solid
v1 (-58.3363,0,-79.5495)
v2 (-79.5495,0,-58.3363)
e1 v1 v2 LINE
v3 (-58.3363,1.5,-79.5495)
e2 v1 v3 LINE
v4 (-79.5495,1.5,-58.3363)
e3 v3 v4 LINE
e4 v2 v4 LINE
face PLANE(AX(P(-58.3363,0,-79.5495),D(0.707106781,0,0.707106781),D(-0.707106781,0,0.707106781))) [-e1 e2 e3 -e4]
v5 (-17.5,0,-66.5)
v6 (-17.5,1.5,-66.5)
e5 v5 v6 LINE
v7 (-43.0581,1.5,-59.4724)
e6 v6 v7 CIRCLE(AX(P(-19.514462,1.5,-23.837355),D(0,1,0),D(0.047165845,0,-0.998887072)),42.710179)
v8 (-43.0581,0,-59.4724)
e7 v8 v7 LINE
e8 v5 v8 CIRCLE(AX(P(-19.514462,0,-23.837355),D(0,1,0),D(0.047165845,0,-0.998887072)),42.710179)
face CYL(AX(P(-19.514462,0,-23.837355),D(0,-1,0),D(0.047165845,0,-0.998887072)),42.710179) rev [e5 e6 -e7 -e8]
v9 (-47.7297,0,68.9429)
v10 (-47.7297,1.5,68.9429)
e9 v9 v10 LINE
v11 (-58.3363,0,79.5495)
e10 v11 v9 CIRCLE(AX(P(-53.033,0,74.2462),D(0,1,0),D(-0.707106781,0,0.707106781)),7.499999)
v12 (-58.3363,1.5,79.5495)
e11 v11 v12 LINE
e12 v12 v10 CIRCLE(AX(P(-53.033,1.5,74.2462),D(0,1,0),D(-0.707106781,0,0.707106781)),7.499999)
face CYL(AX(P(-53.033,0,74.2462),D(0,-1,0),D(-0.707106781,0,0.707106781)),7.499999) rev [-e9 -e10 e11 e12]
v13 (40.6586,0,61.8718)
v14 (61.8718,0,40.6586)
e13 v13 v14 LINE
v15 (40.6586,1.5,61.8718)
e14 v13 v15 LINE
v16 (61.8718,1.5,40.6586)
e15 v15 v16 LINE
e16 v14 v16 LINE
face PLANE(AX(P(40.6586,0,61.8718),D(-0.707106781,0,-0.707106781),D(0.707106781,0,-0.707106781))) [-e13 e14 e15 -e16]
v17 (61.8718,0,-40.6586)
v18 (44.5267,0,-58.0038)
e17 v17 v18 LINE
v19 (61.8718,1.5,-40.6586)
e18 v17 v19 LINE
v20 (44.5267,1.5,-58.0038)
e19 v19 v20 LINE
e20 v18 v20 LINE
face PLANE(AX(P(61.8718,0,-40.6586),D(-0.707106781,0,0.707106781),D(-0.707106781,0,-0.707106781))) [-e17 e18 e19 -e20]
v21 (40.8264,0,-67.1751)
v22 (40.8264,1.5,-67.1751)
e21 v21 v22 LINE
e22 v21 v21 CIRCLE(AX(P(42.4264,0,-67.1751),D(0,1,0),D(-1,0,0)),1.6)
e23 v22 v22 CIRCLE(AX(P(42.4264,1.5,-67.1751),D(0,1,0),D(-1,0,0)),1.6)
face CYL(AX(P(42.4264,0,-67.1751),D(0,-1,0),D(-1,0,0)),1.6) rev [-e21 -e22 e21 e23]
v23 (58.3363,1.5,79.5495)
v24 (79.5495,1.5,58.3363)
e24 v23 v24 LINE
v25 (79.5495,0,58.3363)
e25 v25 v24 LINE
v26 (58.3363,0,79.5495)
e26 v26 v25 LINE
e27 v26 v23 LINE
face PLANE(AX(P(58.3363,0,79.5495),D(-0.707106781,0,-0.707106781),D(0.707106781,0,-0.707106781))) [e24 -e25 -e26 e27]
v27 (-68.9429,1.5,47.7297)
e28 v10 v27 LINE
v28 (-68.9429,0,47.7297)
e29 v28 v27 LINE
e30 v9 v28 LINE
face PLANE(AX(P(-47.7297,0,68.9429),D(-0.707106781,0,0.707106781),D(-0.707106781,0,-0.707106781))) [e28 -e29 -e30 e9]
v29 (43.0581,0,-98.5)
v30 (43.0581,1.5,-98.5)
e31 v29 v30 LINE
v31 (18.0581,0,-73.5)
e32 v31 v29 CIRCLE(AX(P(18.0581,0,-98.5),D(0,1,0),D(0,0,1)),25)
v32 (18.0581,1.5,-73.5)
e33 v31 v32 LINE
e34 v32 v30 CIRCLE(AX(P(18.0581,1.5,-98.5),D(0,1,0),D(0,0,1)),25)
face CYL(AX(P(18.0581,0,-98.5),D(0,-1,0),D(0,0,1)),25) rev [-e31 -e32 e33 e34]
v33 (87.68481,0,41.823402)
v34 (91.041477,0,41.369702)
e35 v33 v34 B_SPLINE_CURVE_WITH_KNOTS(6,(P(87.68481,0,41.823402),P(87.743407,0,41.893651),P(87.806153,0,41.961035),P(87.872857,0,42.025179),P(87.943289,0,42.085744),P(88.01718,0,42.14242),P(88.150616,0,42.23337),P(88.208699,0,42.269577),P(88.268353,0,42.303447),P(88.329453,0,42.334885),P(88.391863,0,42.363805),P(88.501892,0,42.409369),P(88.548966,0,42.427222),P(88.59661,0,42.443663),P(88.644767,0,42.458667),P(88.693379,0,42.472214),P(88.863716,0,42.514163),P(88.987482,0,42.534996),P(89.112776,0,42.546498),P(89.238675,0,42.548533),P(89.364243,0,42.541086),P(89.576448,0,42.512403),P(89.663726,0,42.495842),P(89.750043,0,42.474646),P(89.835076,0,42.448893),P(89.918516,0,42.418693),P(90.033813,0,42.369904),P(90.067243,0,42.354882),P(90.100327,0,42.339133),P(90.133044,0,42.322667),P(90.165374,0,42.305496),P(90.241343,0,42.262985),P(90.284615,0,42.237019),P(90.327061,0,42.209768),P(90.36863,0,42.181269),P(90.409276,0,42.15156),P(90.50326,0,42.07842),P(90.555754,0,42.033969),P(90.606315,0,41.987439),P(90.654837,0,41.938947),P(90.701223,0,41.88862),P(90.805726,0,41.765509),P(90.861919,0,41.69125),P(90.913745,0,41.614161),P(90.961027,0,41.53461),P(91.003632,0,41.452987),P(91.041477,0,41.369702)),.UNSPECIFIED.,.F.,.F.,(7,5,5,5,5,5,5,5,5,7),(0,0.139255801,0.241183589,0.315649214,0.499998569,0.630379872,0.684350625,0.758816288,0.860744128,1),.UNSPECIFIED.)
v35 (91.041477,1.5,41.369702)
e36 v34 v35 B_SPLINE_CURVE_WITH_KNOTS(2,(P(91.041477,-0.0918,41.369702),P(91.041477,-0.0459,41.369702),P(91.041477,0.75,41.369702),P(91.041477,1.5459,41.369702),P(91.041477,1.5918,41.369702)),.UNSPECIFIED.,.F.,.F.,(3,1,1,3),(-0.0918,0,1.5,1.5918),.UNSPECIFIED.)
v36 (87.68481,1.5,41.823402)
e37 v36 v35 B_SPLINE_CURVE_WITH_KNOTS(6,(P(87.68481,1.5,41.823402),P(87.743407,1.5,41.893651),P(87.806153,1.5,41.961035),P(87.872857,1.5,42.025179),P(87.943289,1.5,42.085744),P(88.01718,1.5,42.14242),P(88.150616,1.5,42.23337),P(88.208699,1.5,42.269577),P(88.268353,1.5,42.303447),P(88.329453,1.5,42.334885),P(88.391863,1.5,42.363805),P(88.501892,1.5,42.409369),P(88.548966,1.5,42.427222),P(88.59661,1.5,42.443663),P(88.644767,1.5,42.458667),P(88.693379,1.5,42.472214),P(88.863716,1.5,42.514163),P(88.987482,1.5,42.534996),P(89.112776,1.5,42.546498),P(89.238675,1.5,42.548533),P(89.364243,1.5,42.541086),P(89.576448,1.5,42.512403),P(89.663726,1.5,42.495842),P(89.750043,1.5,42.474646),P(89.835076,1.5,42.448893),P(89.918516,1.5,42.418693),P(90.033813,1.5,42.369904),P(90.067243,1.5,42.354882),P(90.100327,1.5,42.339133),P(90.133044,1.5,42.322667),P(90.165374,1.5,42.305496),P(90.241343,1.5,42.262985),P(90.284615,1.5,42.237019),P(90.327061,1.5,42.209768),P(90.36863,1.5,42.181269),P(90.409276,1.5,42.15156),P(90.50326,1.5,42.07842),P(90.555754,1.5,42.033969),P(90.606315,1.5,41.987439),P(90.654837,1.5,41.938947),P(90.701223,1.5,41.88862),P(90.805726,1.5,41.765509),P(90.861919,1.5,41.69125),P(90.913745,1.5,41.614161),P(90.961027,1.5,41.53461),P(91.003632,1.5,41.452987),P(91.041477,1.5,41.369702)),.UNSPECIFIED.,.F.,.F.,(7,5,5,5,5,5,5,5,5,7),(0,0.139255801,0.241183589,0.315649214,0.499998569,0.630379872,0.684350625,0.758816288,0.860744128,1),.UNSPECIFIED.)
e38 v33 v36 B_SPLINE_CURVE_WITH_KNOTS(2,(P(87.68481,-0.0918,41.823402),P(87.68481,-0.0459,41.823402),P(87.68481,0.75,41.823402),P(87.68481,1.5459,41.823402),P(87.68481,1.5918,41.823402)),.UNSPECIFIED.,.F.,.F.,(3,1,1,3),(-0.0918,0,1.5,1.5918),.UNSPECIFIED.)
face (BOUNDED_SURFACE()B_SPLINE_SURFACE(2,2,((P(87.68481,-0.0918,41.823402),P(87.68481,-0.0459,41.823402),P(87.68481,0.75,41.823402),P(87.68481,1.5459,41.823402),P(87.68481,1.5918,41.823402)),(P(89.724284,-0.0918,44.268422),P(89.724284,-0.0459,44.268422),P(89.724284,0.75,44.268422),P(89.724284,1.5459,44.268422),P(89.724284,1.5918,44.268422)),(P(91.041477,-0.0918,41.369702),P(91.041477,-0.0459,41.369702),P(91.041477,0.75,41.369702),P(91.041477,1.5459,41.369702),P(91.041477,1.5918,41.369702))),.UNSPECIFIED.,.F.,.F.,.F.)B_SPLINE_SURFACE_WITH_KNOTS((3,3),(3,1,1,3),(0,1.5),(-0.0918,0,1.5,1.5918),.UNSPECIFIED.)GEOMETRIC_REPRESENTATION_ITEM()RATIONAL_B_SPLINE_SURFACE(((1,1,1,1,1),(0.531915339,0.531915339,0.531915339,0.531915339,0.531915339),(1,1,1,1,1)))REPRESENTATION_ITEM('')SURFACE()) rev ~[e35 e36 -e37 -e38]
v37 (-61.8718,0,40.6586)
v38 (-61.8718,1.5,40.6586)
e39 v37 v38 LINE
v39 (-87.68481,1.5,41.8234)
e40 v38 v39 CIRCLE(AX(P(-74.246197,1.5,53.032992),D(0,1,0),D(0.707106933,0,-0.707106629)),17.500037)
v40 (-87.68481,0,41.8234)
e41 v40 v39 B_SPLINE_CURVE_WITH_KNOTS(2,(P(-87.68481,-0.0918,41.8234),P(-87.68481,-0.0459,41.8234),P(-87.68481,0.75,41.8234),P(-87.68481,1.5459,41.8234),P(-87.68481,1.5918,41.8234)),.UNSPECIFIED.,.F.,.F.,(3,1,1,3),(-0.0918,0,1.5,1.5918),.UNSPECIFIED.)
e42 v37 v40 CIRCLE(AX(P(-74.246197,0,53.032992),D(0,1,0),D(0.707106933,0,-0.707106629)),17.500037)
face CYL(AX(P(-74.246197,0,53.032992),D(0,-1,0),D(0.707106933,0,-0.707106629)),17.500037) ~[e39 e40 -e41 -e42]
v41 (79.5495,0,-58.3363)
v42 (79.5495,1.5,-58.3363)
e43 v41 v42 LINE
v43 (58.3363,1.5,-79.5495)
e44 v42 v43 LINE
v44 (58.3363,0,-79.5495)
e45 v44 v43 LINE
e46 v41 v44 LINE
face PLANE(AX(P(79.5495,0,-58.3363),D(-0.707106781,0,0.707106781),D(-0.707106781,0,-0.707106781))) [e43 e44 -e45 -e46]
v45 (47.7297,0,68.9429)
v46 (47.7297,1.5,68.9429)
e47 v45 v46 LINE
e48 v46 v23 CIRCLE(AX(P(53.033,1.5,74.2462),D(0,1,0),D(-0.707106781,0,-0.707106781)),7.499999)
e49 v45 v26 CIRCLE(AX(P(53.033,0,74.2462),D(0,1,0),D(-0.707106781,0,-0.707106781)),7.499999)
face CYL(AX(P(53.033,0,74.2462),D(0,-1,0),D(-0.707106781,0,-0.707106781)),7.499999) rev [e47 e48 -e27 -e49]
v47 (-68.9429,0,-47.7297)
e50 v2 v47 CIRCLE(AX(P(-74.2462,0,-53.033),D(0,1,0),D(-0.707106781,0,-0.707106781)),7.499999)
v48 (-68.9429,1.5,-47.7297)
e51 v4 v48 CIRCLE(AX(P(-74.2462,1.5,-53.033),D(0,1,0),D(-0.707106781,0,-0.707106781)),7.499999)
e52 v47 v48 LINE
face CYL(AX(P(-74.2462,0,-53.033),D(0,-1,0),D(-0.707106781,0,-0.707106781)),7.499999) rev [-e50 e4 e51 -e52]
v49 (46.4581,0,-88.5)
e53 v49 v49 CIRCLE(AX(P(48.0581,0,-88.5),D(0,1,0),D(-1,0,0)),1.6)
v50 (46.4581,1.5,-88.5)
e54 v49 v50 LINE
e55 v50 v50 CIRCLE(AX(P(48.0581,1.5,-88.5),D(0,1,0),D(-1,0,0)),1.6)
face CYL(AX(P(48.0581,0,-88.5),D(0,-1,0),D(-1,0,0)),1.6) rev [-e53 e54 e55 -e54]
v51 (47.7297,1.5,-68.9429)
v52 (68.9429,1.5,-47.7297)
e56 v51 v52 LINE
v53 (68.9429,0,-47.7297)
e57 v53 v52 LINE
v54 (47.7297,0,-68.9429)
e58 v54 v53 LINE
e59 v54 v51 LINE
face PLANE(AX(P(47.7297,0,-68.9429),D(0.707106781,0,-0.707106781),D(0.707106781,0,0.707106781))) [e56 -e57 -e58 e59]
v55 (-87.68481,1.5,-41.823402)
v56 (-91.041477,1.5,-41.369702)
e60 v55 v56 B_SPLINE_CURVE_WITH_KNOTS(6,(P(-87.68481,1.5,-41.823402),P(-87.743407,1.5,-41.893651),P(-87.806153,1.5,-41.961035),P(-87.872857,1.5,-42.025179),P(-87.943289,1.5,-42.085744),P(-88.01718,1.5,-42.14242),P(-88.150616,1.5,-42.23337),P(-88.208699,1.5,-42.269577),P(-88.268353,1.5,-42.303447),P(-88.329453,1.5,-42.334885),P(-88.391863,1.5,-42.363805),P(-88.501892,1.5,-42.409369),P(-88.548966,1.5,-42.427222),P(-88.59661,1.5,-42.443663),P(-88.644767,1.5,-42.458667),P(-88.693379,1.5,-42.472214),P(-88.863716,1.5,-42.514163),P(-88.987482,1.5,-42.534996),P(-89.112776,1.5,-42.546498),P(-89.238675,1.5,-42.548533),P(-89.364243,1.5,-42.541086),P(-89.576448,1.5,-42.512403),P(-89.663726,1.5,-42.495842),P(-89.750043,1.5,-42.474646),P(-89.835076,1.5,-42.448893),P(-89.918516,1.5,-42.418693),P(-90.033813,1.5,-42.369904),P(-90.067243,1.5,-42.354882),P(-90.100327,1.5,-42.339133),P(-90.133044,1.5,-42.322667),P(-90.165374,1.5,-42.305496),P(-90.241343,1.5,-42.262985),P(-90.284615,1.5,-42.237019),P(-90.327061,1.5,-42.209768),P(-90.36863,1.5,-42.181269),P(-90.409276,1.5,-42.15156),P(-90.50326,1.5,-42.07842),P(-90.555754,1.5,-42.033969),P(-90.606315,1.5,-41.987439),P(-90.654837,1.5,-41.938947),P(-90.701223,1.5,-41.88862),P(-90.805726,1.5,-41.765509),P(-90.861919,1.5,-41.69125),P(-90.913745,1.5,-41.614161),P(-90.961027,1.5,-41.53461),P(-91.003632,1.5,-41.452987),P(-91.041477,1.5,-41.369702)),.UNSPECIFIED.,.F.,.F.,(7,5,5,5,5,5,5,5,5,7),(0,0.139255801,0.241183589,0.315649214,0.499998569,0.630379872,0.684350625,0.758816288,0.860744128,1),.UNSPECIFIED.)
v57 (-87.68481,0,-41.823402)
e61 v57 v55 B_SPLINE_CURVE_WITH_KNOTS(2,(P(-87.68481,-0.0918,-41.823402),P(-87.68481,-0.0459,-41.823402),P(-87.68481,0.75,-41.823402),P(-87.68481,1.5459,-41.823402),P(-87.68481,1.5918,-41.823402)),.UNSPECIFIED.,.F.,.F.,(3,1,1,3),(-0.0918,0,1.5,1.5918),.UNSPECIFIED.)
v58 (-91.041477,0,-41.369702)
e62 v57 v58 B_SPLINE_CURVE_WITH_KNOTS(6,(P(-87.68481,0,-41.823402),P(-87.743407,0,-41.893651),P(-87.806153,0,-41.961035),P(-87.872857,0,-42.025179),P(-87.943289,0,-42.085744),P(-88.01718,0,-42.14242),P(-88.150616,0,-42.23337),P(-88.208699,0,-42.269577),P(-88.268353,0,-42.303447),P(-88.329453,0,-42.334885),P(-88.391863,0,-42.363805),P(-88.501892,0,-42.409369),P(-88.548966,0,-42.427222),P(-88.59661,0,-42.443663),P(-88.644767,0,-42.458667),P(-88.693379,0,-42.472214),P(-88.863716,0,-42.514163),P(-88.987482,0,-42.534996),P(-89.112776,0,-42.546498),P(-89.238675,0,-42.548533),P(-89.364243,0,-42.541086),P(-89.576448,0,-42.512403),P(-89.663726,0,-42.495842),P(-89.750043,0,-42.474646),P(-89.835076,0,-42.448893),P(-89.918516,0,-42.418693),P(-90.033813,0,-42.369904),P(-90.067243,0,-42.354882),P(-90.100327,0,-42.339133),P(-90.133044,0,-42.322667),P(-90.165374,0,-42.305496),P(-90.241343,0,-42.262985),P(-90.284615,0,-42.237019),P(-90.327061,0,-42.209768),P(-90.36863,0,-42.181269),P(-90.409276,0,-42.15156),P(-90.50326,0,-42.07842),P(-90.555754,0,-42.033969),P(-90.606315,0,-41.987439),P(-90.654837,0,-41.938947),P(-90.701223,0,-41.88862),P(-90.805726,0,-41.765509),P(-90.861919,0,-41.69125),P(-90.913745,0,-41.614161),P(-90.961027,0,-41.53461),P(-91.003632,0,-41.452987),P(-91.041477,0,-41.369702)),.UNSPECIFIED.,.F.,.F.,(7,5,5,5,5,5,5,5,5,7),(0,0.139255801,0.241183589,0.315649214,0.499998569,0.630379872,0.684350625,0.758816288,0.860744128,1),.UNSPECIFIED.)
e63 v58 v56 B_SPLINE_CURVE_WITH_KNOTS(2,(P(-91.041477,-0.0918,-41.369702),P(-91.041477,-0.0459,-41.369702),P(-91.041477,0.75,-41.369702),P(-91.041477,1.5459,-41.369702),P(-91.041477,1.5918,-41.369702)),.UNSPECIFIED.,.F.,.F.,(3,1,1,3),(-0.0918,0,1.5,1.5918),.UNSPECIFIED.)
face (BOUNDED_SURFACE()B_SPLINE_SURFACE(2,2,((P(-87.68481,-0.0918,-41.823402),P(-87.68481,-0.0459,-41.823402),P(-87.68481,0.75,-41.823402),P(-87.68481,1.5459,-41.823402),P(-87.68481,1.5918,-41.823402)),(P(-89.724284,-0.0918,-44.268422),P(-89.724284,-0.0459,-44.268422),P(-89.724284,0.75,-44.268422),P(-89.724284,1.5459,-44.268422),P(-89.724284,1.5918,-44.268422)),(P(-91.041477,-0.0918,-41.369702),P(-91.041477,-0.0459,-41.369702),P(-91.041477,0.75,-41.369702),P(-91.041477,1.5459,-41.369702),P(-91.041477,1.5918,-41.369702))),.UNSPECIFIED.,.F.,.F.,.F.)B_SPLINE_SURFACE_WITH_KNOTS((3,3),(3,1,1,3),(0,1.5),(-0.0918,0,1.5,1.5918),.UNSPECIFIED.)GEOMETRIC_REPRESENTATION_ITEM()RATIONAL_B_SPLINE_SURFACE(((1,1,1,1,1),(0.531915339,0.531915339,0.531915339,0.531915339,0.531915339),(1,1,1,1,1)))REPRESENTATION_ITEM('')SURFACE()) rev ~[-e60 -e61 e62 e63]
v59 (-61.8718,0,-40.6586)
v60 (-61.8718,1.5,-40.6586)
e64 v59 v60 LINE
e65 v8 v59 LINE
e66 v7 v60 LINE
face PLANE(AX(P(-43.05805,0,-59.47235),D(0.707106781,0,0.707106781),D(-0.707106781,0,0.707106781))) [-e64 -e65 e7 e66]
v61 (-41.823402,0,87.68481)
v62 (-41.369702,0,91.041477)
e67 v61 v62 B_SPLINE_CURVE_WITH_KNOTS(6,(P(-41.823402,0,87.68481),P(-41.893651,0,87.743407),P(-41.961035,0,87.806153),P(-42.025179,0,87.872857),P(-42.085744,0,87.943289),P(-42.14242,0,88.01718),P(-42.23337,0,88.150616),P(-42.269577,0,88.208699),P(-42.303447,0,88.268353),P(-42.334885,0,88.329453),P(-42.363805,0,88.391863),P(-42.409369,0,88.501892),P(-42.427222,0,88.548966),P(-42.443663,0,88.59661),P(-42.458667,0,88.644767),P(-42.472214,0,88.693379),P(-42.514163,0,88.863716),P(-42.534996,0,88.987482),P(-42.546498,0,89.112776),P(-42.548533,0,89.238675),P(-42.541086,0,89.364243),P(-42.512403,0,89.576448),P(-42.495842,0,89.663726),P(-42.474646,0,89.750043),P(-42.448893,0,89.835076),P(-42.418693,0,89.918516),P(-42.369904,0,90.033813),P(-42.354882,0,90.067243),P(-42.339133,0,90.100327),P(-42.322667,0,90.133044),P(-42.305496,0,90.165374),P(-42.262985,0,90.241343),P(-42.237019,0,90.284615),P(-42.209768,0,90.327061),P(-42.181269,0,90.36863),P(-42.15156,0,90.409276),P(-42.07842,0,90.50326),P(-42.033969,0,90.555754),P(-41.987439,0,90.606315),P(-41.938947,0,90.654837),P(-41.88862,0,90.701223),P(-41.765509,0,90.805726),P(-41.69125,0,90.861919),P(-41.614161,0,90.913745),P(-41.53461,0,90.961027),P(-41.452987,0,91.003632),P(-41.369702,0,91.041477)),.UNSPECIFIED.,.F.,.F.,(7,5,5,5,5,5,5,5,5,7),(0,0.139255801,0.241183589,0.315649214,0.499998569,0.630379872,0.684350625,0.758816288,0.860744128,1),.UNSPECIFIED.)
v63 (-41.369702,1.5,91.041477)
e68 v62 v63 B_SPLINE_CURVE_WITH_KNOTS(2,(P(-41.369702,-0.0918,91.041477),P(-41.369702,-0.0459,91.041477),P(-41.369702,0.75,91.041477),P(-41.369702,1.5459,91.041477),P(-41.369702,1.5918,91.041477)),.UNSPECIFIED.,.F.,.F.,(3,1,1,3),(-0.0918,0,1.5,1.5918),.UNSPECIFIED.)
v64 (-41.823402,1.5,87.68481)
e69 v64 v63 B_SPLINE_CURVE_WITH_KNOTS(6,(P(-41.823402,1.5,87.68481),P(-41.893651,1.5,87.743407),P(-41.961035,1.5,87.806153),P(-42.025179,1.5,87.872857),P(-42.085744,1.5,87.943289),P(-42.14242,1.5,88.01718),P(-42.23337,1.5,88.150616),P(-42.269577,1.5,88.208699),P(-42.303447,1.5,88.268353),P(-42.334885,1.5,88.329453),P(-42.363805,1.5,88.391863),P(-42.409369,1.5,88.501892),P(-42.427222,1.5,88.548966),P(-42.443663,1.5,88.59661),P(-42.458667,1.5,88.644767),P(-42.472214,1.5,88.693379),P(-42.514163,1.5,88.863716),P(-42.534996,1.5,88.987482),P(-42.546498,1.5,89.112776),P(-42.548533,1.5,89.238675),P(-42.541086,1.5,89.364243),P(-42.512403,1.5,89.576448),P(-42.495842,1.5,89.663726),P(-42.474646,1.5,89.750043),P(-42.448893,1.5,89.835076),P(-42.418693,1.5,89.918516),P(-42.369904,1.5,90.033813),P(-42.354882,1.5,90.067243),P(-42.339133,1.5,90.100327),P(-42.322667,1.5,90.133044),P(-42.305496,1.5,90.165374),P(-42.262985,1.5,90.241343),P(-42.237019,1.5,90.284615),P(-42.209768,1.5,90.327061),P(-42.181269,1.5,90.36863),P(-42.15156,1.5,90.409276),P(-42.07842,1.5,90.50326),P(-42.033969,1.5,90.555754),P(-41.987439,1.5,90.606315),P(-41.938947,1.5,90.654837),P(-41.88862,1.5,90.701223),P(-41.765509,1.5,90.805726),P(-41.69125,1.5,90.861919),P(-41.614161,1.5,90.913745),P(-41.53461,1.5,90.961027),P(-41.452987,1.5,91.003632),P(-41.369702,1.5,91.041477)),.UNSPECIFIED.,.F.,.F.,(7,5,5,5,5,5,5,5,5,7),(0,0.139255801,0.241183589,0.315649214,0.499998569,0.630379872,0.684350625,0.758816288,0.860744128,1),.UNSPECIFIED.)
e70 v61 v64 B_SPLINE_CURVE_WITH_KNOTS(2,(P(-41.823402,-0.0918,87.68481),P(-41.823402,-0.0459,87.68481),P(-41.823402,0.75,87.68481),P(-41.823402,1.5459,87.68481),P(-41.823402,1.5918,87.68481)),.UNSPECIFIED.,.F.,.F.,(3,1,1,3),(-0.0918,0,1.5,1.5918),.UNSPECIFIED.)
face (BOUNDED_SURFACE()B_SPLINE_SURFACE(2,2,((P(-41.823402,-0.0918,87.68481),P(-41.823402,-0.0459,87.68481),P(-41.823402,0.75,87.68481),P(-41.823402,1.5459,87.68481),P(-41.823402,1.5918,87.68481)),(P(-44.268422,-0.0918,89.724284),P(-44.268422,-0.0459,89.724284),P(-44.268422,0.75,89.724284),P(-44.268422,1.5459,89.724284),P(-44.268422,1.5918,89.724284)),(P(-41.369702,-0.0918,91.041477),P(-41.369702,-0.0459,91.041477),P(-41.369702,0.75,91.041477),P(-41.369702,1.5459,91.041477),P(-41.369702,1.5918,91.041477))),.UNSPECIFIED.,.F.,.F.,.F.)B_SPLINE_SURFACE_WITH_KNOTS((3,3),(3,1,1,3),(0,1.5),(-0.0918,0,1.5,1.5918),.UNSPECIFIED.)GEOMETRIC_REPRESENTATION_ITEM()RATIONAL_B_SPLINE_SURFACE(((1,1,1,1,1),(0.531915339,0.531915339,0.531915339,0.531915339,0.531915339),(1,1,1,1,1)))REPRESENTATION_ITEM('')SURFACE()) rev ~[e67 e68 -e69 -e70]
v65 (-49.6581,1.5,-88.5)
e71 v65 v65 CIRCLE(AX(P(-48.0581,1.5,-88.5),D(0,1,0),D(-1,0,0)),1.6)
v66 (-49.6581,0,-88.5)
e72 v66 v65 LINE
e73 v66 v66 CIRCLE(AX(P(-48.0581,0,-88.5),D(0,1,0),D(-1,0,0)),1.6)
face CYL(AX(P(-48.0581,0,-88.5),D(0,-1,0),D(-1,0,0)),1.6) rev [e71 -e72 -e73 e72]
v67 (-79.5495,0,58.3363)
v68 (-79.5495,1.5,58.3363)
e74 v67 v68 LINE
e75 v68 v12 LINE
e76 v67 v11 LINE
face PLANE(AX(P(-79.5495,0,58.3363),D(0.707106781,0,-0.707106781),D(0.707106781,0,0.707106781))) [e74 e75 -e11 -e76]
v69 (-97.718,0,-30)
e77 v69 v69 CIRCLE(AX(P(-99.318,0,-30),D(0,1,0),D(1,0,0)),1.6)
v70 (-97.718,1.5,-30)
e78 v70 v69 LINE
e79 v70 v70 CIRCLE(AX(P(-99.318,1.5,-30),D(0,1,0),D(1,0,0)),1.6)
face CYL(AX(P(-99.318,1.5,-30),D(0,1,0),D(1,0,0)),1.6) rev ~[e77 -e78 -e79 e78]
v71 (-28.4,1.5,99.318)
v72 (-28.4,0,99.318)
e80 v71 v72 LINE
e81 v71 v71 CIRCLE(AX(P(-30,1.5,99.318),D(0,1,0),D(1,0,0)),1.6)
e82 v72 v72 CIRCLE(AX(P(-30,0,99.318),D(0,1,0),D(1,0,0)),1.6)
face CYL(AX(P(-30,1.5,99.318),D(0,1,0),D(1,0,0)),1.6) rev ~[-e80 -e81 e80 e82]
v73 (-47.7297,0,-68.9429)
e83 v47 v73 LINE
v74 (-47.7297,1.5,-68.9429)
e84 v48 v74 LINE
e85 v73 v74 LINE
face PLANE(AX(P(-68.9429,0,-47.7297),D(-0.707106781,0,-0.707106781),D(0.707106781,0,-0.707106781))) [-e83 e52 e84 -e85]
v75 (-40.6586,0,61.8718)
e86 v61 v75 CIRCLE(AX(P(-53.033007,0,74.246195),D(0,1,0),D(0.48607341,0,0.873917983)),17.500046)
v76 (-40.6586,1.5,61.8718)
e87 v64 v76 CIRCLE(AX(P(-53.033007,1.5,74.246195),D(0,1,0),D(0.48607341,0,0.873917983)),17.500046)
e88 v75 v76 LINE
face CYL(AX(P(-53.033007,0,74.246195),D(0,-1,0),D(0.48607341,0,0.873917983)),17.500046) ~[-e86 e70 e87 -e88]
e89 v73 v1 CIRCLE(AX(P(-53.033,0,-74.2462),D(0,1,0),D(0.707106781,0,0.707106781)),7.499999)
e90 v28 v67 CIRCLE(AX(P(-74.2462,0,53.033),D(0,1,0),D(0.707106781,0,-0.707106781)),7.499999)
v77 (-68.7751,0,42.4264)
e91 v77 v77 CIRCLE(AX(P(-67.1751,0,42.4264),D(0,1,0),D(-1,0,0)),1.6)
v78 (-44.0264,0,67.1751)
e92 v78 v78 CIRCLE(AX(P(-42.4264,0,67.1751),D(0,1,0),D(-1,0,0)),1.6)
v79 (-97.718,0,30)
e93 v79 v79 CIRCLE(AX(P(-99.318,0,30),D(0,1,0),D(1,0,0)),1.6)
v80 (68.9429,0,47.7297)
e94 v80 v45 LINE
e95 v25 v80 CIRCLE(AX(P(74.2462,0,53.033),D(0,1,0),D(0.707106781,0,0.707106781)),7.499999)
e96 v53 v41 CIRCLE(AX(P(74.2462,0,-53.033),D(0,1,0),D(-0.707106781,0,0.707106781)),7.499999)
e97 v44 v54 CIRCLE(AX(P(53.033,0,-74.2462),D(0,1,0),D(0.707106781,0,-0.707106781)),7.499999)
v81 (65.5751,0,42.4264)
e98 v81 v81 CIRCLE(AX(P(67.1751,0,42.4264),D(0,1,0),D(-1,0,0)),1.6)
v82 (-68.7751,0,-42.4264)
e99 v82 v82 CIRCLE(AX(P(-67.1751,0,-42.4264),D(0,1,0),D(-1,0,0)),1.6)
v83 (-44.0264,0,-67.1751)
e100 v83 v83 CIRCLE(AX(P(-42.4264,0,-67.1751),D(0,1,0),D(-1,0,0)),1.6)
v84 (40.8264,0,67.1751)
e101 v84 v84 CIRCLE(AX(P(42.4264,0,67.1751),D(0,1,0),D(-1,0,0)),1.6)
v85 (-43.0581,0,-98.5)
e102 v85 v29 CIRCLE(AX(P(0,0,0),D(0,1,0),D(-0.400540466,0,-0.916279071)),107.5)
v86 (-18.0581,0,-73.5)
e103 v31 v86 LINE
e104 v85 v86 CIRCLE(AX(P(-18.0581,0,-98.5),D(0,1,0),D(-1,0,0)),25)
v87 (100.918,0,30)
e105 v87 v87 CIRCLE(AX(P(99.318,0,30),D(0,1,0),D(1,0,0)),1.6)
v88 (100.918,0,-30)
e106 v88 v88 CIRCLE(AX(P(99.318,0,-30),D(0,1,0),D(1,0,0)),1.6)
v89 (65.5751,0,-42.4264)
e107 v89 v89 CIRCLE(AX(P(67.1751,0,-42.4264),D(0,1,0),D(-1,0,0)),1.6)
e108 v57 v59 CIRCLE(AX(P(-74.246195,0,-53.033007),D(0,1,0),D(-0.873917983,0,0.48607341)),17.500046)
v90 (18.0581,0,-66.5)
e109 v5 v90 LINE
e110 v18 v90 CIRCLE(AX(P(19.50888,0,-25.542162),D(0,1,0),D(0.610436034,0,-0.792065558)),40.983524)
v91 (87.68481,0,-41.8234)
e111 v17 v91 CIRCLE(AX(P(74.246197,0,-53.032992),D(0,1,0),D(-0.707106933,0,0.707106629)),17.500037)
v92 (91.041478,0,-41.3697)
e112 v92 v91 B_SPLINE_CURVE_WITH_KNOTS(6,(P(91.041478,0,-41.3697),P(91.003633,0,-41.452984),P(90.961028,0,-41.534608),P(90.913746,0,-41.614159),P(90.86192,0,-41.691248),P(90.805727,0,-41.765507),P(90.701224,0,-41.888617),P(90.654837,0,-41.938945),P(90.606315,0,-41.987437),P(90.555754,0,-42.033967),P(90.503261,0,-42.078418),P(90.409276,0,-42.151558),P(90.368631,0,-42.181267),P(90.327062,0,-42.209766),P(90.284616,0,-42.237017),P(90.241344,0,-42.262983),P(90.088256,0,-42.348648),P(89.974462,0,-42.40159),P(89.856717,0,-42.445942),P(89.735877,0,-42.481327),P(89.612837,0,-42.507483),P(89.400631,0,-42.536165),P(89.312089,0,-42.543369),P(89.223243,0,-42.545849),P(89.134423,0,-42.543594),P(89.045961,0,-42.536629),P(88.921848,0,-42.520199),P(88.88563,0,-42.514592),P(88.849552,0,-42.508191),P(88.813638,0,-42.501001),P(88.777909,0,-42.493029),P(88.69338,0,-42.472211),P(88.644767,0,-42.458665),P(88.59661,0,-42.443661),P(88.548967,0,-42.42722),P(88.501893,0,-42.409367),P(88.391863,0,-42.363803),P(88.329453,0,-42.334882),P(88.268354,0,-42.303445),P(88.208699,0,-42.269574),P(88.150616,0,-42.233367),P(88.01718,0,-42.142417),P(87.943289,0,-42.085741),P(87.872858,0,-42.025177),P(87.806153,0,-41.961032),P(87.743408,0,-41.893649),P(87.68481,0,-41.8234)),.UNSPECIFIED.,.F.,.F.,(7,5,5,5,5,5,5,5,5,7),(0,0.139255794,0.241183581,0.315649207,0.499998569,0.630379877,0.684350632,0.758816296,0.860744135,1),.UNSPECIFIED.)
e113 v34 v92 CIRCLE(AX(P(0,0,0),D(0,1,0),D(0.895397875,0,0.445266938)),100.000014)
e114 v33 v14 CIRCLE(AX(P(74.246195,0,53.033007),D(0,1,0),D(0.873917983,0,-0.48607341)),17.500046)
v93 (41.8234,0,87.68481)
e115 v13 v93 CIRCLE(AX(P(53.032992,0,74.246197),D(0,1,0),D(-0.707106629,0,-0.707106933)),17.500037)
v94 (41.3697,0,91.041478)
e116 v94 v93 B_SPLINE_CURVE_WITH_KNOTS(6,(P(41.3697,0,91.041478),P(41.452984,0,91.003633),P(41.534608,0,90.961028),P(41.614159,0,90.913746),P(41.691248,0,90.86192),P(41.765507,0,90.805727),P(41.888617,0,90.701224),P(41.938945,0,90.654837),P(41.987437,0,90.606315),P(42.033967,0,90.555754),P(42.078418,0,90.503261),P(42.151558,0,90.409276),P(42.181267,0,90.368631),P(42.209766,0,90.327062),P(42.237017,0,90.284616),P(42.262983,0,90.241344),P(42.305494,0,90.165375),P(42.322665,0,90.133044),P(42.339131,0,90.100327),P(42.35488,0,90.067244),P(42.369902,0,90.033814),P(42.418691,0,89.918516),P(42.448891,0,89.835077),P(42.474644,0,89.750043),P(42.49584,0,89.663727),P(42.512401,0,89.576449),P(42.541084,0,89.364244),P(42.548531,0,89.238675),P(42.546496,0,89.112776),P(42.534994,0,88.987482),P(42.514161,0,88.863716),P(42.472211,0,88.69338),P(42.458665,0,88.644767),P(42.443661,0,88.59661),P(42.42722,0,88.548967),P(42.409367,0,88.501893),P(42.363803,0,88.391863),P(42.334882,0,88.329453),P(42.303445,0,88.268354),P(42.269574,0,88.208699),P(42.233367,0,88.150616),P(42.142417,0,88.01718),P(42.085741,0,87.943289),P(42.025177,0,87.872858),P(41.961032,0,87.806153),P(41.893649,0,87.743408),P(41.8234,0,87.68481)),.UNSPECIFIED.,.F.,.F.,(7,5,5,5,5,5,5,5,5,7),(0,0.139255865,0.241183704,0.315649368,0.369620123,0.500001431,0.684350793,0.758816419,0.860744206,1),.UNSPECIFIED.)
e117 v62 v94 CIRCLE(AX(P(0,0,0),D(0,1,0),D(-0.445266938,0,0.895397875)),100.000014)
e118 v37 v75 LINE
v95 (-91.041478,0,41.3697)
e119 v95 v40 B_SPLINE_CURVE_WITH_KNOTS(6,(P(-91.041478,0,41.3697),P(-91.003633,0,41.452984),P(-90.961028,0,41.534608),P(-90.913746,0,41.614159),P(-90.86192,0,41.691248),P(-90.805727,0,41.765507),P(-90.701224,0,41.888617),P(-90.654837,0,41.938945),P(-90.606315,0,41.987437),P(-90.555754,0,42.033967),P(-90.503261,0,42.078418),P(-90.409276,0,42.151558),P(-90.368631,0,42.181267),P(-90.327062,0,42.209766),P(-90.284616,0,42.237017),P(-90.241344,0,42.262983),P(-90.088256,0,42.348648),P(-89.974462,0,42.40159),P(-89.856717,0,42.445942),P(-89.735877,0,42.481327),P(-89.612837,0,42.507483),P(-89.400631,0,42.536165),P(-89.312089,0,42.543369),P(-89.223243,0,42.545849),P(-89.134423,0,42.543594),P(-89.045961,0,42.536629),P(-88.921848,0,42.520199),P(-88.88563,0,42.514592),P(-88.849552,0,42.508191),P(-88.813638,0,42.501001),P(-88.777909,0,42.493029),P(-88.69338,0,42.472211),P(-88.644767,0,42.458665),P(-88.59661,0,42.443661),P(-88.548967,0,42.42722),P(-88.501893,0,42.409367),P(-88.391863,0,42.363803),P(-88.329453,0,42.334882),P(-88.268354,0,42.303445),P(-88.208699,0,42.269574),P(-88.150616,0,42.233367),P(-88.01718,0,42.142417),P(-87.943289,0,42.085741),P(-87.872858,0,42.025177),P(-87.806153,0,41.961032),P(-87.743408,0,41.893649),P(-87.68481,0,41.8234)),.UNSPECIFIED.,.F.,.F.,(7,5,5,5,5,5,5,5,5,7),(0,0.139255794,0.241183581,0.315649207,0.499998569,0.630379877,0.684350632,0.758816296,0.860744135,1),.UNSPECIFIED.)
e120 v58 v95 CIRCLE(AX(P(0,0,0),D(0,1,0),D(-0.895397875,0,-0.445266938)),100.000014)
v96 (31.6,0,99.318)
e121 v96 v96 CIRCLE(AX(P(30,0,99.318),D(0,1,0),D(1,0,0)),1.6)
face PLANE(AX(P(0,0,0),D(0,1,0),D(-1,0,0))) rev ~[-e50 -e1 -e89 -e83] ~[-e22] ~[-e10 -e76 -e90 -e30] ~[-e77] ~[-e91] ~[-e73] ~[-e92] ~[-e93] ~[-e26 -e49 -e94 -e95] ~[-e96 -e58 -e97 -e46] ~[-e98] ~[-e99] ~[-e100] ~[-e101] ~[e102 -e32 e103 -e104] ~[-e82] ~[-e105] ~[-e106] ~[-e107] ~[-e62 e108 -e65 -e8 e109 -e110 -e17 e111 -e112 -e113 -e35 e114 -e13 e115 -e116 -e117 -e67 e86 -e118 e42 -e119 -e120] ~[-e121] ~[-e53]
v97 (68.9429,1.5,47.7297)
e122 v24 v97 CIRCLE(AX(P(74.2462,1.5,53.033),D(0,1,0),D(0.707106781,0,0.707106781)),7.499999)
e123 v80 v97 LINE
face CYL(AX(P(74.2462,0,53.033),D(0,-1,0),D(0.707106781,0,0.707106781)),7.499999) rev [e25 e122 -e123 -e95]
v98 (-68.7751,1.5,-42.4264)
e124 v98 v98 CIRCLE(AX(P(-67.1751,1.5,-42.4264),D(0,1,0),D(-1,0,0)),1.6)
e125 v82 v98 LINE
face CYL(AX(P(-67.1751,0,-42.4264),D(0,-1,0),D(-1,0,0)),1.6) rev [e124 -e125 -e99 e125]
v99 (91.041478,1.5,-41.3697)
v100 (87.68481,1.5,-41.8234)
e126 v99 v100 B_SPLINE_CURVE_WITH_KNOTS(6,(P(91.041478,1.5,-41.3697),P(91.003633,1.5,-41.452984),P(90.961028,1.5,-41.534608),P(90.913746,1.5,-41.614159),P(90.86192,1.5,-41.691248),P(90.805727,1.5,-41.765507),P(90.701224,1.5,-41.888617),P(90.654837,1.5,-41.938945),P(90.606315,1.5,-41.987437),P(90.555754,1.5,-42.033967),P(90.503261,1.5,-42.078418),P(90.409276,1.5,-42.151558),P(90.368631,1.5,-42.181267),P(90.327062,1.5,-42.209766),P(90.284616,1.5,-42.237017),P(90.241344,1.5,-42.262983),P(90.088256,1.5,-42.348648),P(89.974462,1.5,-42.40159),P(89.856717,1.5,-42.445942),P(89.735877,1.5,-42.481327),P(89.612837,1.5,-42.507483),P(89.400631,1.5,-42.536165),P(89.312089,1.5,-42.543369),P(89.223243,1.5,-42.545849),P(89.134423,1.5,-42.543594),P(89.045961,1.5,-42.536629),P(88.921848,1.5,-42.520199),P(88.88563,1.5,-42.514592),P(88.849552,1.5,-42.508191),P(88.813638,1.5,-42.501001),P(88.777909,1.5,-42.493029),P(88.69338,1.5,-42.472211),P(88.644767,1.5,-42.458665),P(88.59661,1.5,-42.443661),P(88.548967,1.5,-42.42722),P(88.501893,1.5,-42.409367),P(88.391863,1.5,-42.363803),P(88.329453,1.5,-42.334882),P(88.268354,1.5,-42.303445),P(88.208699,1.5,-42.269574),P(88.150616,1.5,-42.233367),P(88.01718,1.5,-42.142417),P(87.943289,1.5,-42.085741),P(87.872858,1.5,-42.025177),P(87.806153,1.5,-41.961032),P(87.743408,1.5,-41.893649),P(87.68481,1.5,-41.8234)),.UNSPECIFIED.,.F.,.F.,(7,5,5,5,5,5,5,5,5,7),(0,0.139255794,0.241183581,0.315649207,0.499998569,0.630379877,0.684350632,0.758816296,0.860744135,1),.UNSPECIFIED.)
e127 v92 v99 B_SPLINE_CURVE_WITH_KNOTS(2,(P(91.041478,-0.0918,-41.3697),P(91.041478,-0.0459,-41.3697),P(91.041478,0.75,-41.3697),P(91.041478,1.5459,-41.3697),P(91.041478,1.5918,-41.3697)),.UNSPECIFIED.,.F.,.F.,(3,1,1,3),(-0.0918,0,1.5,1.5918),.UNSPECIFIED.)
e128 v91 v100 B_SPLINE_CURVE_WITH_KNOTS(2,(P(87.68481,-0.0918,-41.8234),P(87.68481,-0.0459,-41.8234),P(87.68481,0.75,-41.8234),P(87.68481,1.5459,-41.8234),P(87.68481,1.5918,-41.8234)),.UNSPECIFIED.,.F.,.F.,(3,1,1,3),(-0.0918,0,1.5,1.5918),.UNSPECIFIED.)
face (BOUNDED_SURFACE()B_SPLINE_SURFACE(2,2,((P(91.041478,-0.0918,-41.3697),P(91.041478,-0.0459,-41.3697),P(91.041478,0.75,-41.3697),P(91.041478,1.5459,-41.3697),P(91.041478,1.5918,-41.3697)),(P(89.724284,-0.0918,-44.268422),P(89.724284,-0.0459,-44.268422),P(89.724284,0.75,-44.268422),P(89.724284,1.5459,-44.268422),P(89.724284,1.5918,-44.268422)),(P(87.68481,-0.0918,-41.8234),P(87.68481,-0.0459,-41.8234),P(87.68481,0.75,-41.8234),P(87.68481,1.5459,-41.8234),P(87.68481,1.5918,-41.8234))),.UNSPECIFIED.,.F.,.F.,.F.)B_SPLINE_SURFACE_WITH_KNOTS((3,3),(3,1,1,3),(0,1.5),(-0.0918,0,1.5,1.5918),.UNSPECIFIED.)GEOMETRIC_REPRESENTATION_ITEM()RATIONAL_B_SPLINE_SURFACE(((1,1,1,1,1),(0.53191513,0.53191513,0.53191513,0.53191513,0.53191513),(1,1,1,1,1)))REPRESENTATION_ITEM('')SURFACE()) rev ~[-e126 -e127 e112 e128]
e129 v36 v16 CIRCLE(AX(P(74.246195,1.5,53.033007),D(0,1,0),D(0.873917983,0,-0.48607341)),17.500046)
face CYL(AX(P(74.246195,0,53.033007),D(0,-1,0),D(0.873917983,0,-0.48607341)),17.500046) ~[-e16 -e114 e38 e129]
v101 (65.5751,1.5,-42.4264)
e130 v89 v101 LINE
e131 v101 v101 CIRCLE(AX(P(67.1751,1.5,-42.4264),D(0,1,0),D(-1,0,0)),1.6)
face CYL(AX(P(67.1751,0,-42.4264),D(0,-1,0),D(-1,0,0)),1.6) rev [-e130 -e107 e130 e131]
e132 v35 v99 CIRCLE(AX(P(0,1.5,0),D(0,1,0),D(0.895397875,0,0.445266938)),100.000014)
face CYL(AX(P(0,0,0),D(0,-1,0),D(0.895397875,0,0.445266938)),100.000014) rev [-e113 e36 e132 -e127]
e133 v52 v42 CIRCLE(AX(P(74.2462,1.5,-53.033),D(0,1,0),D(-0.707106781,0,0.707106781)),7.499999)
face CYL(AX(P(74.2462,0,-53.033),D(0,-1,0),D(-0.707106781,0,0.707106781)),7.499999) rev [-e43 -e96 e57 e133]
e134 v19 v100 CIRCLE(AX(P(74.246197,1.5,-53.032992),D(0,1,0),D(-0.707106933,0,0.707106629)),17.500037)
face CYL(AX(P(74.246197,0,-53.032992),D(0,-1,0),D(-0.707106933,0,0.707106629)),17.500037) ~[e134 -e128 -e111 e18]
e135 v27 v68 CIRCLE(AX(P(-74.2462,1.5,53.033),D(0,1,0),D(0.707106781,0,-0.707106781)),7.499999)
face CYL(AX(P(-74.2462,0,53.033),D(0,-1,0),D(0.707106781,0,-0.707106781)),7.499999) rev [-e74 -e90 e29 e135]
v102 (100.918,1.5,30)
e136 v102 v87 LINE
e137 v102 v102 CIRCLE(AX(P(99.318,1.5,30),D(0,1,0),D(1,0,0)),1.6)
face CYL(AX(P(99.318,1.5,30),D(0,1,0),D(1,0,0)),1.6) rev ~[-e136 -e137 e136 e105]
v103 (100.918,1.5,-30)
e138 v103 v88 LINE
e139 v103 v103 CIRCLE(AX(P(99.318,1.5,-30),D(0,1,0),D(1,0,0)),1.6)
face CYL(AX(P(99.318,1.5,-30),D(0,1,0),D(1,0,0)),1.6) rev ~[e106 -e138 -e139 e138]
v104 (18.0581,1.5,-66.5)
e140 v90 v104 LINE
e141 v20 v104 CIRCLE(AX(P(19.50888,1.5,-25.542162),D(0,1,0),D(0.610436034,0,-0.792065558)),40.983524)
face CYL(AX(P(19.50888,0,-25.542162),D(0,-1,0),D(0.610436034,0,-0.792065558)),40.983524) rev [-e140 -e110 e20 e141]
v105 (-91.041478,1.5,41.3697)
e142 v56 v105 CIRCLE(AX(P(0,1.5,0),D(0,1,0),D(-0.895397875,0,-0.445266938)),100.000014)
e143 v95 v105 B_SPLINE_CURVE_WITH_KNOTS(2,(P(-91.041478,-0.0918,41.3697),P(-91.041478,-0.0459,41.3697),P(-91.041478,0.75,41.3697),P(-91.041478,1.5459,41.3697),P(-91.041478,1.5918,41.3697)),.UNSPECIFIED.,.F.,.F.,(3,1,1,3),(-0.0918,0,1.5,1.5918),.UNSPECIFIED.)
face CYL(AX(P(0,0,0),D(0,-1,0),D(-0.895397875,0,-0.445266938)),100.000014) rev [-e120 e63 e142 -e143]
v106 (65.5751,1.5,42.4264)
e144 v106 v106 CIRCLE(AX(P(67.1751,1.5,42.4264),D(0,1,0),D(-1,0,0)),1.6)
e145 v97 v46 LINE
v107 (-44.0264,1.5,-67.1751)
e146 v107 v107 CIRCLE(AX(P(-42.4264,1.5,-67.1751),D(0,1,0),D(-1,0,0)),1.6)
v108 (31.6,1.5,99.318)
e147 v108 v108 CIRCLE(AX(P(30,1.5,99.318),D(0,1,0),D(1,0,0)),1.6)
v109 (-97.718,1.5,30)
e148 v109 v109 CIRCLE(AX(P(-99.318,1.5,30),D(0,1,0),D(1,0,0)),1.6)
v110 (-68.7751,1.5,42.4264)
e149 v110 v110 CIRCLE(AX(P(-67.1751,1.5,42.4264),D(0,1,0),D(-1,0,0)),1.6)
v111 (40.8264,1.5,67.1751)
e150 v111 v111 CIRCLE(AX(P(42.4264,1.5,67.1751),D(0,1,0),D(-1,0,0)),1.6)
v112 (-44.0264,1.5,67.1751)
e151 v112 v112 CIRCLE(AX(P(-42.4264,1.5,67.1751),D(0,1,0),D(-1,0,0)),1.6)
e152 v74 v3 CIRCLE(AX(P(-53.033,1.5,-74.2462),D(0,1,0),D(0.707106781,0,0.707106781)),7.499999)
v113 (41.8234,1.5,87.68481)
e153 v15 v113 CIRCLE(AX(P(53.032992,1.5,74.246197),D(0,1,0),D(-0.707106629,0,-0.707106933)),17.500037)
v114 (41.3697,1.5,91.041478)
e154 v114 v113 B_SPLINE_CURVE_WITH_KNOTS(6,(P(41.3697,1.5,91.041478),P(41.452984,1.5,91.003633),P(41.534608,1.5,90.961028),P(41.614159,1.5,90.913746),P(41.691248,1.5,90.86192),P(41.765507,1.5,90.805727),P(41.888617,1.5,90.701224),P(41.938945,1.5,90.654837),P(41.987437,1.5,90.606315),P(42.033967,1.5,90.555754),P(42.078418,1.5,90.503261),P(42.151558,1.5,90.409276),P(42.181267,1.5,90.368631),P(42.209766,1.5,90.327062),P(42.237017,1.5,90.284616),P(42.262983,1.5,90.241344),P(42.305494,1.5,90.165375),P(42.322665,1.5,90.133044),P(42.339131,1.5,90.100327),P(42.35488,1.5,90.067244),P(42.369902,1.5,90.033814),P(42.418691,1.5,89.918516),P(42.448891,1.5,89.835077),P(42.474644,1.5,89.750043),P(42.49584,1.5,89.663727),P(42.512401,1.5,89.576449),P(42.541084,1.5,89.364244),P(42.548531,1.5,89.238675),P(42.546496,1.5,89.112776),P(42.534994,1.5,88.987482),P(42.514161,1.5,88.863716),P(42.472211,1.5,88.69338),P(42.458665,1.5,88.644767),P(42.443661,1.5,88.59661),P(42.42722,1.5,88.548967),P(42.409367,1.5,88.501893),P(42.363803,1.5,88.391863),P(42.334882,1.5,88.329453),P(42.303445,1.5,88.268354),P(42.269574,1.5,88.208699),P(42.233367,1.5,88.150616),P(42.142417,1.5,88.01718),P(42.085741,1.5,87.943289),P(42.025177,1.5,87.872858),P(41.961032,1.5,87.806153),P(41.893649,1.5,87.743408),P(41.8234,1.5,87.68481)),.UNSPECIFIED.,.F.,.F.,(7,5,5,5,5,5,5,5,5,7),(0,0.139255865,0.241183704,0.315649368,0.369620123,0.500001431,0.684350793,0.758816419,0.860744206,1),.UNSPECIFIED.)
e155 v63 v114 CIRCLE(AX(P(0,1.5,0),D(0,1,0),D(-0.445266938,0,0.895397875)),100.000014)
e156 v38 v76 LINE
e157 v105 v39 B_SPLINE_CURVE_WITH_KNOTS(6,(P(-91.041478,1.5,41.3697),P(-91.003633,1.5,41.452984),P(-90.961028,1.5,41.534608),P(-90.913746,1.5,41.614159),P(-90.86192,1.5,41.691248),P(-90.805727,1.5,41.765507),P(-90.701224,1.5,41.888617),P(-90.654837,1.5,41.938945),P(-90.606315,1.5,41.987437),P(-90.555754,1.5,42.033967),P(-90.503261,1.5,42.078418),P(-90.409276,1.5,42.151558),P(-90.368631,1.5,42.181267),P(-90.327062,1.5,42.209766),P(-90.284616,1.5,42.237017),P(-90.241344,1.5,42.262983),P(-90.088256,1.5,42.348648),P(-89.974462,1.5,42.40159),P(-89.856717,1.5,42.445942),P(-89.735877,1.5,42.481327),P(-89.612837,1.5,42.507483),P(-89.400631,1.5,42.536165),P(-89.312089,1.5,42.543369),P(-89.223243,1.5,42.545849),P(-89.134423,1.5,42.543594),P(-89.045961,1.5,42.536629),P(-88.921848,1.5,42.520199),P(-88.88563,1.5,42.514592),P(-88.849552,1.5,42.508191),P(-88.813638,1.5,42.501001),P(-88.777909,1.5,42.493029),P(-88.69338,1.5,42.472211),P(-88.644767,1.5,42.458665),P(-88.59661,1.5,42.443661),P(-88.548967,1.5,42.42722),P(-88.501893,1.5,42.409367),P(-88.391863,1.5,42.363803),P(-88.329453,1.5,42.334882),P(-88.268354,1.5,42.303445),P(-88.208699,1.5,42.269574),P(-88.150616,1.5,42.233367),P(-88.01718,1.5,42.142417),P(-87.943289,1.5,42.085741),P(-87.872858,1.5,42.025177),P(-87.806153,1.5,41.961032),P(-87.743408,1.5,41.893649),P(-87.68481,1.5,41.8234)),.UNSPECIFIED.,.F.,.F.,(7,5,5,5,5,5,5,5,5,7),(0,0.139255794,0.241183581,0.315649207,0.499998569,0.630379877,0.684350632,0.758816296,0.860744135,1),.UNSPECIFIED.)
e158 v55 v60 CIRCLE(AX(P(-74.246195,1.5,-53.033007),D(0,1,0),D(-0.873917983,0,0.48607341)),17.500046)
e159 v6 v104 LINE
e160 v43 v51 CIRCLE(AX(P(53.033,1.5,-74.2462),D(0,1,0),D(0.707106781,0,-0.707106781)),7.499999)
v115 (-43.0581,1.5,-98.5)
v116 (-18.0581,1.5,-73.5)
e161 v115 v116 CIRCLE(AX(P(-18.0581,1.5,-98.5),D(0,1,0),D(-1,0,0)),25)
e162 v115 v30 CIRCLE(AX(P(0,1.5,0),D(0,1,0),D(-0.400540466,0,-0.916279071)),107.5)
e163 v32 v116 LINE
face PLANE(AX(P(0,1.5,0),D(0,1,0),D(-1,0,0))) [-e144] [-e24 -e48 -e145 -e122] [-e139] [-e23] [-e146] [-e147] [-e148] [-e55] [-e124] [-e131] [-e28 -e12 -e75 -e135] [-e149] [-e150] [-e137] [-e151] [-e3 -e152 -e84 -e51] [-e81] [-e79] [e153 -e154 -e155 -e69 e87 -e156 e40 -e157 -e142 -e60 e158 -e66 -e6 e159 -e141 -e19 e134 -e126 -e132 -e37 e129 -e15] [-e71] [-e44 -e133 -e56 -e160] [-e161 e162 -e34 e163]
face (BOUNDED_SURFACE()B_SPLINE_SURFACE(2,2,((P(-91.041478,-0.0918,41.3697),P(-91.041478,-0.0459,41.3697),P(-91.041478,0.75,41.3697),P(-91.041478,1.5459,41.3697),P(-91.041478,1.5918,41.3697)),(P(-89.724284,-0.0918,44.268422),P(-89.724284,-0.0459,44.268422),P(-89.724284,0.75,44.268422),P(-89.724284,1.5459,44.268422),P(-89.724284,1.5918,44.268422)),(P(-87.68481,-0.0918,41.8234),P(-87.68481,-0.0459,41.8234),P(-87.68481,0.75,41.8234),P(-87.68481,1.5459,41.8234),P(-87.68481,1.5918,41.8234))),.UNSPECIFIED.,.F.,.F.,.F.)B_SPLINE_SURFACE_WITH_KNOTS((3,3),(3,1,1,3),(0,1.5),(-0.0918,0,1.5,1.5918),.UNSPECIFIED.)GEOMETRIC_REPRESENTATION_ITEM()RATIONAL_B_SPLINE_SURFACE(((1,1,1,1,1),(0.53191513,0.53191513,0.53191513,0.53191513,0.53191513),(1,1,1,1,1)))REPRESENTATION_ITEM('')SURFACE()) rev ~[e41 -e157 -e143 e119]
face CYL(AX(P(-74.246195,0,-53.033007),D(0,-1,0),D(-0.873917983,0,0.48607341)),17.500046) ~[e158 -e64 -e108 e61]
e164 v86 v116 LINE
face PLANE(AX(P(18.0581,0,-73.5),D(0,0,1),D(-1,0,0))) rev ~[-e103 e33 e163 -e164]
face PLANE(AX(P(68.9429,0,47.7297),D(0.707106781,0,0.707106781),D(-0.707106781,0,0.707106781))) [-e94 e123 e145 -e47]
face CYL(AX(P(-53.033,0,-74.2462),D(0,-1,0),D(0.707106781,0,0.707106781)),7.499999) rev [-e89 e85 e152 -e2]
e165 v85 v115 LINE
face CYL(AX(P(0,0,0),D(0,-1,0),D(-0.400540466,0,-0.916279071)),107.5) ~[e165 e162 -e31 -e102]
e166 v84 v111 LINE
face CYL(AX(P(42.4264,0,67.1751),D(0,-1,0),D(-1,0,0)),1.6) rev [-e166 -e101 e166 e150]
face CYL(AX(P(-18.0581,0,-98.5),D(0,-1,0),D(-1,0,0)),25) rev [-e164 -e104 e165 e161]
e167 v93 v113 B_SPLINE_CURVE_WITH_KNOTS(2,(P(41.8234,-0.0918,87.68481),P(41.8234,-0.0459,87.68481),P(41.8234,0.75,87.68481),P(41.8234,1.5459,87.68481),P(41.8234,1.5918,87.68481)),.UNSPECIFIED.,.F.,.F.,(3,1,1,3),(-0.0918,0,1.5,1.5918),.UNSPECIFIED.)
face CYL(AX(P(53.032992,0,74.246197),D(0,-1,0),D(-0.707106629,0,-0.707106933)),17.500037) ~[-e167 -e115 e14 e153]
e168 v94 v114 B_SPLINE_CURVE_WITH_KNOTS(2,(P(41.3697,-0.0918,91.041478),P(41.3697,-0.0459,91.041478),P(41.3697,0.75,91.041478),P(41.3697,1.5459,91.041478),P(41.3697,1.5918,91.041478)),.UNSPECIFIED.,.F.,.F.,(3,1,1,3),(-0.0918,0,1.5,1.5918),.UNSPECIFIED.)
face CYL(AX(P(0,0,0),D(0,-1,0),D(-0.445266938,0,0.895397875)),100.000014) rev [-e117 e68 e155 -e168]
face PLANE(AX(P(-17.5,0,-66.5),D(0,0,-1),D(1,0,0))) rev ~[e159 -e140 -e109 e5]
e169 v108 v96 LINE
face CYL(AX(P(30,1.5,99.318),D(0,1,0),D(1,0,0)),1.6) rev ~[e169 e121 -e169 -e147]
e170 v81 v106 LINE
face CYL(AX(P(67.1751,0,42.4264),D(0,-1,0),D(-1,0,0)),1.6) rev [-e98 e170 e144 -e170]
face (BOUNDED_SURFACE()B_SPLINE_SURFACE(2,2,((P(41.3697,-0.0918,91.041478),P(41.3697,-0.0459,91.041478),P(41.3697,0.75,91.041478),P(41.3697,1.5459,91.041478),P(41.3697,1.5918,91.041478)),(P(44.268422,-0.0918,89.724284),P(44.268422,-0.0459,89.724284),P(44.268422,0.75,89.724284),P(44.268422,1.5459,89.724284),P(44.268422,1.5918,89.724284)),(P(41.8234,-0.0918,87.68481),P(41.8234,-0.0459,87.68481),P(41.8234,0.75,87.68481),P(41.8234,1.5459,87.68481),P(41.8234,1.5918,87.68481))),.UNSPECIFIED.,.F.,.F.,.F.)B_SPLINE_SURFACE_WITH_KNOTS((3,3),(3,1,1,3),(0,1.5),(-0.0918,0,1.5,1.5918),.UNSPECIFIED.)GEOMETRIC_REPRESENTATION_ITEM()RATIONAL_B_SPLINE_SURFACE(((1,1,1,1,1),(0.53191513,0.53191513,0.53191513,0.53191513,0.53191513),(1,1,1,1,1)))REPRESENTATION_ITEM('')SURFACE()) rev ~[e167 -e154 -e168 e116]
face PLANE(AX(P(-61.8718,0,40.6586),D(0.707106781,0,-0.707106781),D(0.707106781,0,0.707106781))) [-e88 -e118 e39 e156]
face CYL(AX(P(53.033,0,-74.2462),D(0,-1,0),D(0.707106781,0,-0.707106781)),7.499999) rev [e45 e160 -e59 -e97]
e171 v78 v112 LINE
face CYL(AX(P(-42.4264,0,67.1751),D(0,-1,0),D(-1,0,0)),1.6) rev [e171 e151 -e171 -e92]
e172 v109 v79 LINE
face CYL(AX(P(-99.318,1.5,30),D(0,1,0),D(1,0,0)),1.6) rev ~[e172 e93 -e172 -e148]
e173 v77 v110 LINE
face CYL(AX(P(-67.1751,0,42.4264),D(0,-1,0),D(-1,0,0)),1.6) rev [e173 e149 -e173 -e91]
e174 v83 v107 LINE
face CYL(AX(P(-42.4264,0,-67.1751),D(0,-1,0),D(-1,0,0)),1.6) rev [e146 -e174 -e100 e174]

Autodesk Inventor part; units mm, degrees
ref_plane "YZ Plane" through (0, 0, 0) normal (1, 0, 0) x (0, 1, 0)
ref_plane "XZ Plane" through (0, 0, 0) normal (0, 1, 0) x (-1, 0, 0)
ref_plane "XY Plane" through (0, 0, 0) normal (0, 0, 1) x (1, 0, 0)
sketch "Sketch1" plane through (0, 0, 0) normal (0, 1, 0) x (-1, 0, 0)
  circle A0 centre (0, 0) radius 110 construction
  arc A1 (43.0581, -98.5) -> (-43.0581, -98.5) centre (0, 0) ccw
  line L0 (0, -107.5) -> (0, -98.5) construction
  line L1 (0, -98.5) -> (0, -73.5) construction
  line L2 (0, -98.5) -> (-43.0581, -98.5) construction
  line L3 (0, -98.5) -> (43.0581, -98.5) construction
  line L4 (43.0581, -98.5) -> (-43.0581, -98.5) construction
  line L5 (-18.0581, -73.5) -> (18.0581, -73.5)
  arc A2 (43.0581, -98.5) -> (18.0581, -73.5) centre (18.0581, -98.5) ccw
  arc A3 (-18.0581, -73.5) -> (-43.0581, -98.5) centre (-18.0581, -98.5) ccw
  line L6 (0, 107.5) -> (0, 97.5) construction
  line L7 (0, 97.5) -> (-22.5, 97.5) construction
  line L8 (-22.5, 97.5) -> (-22.5, 82.5) construction
  line L9 (22.5, 82.5) -> (22.5, 97.5) construction
  line L10 (22.5, 90) -> (-22.5, 90) construction
  line L11 (15, 97.5) -> (-15, 97.5)
  line L12 (-15, 82.5) -> (15, 82.5)
  arc A4 (15, 82.5) -> (15, 97.5) centre (15, 90) ccw
  arc A5 (-15, 97.5) -> (-15, 82.5) centre (-15, 90) ccw
  line L13 (22.5, 82.5) -> (17.5, 82.5) construction
  line L14 (17.5, 82.5) -> (17.5, 77.5) construction
  circle A6 centre (17.5, 77.5) radius 1.6
  circle A7 centre (-17.5, 77.5) radius 1.6
  line L15 (-58.3363, 79.5495) -> (-79.5495, 58.3363)
  arc A8 (-47.7297, 68.9429) -> (-58.3363, 79.5495) centre (-53.033, 74.2462) ccw
  arc A9 (-79.5495, 58.3363) -> (-68.9429, 47.7297) centre (-74.2462, 53.033) ccw
  line L16 (-68.9429, 47.7297) -> (-47.7297, 68.9429)
  circle A10 centre (-67.1751, 42.4264) radius 1.6
  circle A11 centre (-42.4264, 67.1751) radius 1.6
  line L17 (-97.5, 15) -> (-97.5, -15)
  arc A12 (-82.5, 15) -> (-97.5, 15) centre (-90, 15) ccw
  arc A13 (-97.5, -15) -> (-82.5, -15) centre (-90, -15) ccw
  line L18 (-82.5, -15) -> (-82.5, 15)
  circle A14 centre (-77.5, -17.5) radius 1.6
  circle A15 centre (-77.5, 17.5) radius 1.6
  line L19 (-79.5495, -58.3363) -> (-58.3363, -79.5495)
  arc A16 (-68.9429, -47.7297) -> (-79.5495, -58.3363) centre (-74.2462, -53.033) ccw
  arc A17 (-58.3363, -79.5495) -> (-47.7297, -68.9429) centre (-53.033, -74.2462) ccw
  line L20 (-47.7297, -68.9429) -> (-68.9429, -47.7297)
  circle A18 centre (-42.4264, -67.1751) radius 1.6
  circle A19 centre (-67.1751, -42.4264) radius 1.6
  line L21 (-15, -97.5) -> (15, -97.5)
  arc A20 (-15, -82.5) -> (-15, -97.5) centre (-15, -90) ccw
  arc A21 (15, -97.5) -> (15, -82.5) centre (15, -90) ccw
  line L22 (15, -82.5) -> (-15, -82.5)
  circle A22 centre (17.5, -77.5) radius 1.6
  circle A23 centre (-17.5, -77.5) radius 1.6
  line L23 (58.3363, -79.5495) -> (79.5495, -58.3363)
  arc A24 (47.7297, -68.9429) -> (58.3363, -79.5495) centre (53.033, -74.2462) ccw
  arc A25 (79.5495, -58.3363) -> (68.9429, -47.7297) centre (74.2462, -53.033) ccw
  line L24 (68.9429, -47.7297) -> (47.7297, -68.9429)
  circle A26 centre (67.1751, -42.4264) radius 1.6
  circle A27 centre (42.4264, -67.1751) radius 1.6
  line L25 (97.5, -15) -> (97.5, 15)
  arc A28 (82.5, -15) -> (97.5, -15) centre (90, -15) ccw
  arc A29 (97.5, 15) -> (82.5, 15) centre (90, 15) ccw
  line L26 (82.5, 15) -> (82.5, -15)
  circle A30 centre (77.5, 17.5) radius 1.6
  circle A31 centre (77.5, -17.5) radius 1.6
  line L27 (79.5495, 58.3363) -> (58.3363, 79.5495)
  arc A32 (68.9429, 47.7297) -> (79.5495, 58.3363) centre (74.2462, 53.033) ccw
  arc A33 (58.3363, 79.5495) -> (47.7297, 68.9429) centre (53.033, 74.2462) ccw
  line L28 (47.7297, 68.9429) -> (68.9429, 47.7297)
  circle A34 centre (42.4264, 67.1751) radius 1.6
  circle A35 centre (67.1751, 42.4264) radius 1.6
  line L29 (58.3363, -58.3363) -> (51.2652, -51.2652) construction
  line L30 (40.6586, -61.8718) -> (61.8718, -40.6586)
  arc A36 (40.6586, -61.8718) -> (44.5267, -89.5398) centre (53.033, -74.2462) ccw
  arc A37 (89.5398, -44.5267) -> (61.8718, -40.6586) centre (74.2462, -53.033) ccw
  line L31 (0, -73.5) -> (0, -66.5) construction
  arc A38 (44.5267, 89.5398) -> (40.6586, 61.8718) centre (53.033, 74.2462) ccw
  line L32 (61.8718, 40.6586) -> (40.6586, 61.8718)
  arc A39 (61.8718, 40.6586) -> (89.5398, 44.5267) centre (74.2462, 53.033) ccw
  arc A40 (-89.5398, 44.5267) -> (-61.8718, 40.6586) centre (-74.2462, 53.033) ccw
  line L33 (-40.6586, 61.8718) -> (-61.8718, 40.6586)
  arc A41 (-40.6586, 61.8718) -> (-44.5267, 89.5398) centre (-53.033, 74.2462) ccw
  arc A42 (-44.5267, -89.5398) -> (-40.6586, -61.8718) centre (-53.033, -74.2462) ccw
  line L34 (-61.8718, -40.6586) -> (-40.6586, -61.8718)
  arc A43 (-61.8718, -40.6586) -> (-89.5398, -44.5267) centre (-74.2462, -53.033) ccw
  arc A44 (89.5398, -44.5267) -> (89.5398, 44.5267) centre (0, 0) ccw
  arc A45 (44.5267, 89.5398) -> (-44.5267, 89.5398) centre (0, 0) ccw
  arc A46 (-89.5398, 44.5267) -> (-89.5398, -44.5267) centre (0, 0) ccw
  line L35 (43.0581, -98.5) -> (48.0581, -98.5) construction
  line L36 (48.0581, -98.5) -> (48.0581, -88.5) construction
  circle A47 centre (48.0581, -88.5) radius 1.6
  circle A48 centre (-48.0581, -88.5) radius 1.6
  line L37 (18.0581, -66.5) -> (-18.0581, -66.5)
  arc A49 (17.5, -66.5) -> (43.0581, -59.4724) centre (19.5145, -23.8377) ccw
  arc A50 (-44.5267, -58.0038) -> (-18.0581, -66.5) centre (-19.5089, -25.5422) ccw
  point P0 (0, 90)
  point P1 (-45.9619, 70.7107)
  point P2 (-82.5, 17.5)
  point P3 (-70.7107, -45.9619)
  point P4 (-17.5, -82.5)
  point P5 (45.9619, -70.7107)
  point P6 (82.5, -17.5)
  point P7 (70.7107, 45.9619)
  point P8 (35.7159, -76.7698)
  dimension "d0" = 220
  dimension "d1" = 215
  dimension "d2" = 9
  dimension "d3" = 25
  dimension "d4" = 10
  dimension "d5" = 22.5
  dimension "d6" = 15
  dimension "d7" = 45
  dimension "d8" = 5
  dimension "d9" = 5
  dimension "d10" = 3.2
  dimension "d15" = 86.1162
  dimension "d16" = 45
  dimension "d19" = 360
  dimension "d22" = 10
  dimension "d23" = 7
  dimension "d26" = 360
  dimension "d33" = 5
  dimension "d34" = 10
  dimension "d35" = 3.2
extrude "Extrusion1" add sketch "Sketch1" along normal blind 1.5 contours A2 L5 A3 A1
fillet "Fillet2" radius 2 6 edges at (-44.5267, 0.75, 89.5398) (44.5267, 0.75, 89.5398) (89.5398, 0.75, 44.5267) (89.5398, 0.75, -44.5267) (-89.5398, 0.75, -44.5267) (-89.5398, 0.75, 44.5267)
sketch "Sketch4" plane through (0, 1.5, 0) normal (0, 1, 0) x (1, 0, 0)
  circle A0 centre (0, 0) radius 103.75 construction
  line L0 (0, -103.75) -> (-30, -103.75) construction
  line L1 (-30, -103.75) -> (-30, -99.318) construction
  line L2 (0, -103.75) -> (0, -91.6543) construction
  line L3 (0, 0) -> (-10.2863, 0) construction
  circle A1 centre (-30, -99.318) radius 1.6
  circle A2 centre (30, -99.318) radius 1.6
  circle A3 centre (99.318, -30) radius 1.6
  circle A4 centre (99.318, 30) radius 1.6
  circle A5 centre (-99.318, -30) radius 1.6
  circle A6 centre (-99.318, 30) radius 1.6
  dimension "d45" = 207.5
  dimension "d46" = 30
  dimension "d47" = 3.2
  dimension "d50" = 90
extrude "Extrusion4" cut sketch "Sketch4" against normal blind 2
properties part number "MettalringUnten_v3" material "Aluminum 6061"
